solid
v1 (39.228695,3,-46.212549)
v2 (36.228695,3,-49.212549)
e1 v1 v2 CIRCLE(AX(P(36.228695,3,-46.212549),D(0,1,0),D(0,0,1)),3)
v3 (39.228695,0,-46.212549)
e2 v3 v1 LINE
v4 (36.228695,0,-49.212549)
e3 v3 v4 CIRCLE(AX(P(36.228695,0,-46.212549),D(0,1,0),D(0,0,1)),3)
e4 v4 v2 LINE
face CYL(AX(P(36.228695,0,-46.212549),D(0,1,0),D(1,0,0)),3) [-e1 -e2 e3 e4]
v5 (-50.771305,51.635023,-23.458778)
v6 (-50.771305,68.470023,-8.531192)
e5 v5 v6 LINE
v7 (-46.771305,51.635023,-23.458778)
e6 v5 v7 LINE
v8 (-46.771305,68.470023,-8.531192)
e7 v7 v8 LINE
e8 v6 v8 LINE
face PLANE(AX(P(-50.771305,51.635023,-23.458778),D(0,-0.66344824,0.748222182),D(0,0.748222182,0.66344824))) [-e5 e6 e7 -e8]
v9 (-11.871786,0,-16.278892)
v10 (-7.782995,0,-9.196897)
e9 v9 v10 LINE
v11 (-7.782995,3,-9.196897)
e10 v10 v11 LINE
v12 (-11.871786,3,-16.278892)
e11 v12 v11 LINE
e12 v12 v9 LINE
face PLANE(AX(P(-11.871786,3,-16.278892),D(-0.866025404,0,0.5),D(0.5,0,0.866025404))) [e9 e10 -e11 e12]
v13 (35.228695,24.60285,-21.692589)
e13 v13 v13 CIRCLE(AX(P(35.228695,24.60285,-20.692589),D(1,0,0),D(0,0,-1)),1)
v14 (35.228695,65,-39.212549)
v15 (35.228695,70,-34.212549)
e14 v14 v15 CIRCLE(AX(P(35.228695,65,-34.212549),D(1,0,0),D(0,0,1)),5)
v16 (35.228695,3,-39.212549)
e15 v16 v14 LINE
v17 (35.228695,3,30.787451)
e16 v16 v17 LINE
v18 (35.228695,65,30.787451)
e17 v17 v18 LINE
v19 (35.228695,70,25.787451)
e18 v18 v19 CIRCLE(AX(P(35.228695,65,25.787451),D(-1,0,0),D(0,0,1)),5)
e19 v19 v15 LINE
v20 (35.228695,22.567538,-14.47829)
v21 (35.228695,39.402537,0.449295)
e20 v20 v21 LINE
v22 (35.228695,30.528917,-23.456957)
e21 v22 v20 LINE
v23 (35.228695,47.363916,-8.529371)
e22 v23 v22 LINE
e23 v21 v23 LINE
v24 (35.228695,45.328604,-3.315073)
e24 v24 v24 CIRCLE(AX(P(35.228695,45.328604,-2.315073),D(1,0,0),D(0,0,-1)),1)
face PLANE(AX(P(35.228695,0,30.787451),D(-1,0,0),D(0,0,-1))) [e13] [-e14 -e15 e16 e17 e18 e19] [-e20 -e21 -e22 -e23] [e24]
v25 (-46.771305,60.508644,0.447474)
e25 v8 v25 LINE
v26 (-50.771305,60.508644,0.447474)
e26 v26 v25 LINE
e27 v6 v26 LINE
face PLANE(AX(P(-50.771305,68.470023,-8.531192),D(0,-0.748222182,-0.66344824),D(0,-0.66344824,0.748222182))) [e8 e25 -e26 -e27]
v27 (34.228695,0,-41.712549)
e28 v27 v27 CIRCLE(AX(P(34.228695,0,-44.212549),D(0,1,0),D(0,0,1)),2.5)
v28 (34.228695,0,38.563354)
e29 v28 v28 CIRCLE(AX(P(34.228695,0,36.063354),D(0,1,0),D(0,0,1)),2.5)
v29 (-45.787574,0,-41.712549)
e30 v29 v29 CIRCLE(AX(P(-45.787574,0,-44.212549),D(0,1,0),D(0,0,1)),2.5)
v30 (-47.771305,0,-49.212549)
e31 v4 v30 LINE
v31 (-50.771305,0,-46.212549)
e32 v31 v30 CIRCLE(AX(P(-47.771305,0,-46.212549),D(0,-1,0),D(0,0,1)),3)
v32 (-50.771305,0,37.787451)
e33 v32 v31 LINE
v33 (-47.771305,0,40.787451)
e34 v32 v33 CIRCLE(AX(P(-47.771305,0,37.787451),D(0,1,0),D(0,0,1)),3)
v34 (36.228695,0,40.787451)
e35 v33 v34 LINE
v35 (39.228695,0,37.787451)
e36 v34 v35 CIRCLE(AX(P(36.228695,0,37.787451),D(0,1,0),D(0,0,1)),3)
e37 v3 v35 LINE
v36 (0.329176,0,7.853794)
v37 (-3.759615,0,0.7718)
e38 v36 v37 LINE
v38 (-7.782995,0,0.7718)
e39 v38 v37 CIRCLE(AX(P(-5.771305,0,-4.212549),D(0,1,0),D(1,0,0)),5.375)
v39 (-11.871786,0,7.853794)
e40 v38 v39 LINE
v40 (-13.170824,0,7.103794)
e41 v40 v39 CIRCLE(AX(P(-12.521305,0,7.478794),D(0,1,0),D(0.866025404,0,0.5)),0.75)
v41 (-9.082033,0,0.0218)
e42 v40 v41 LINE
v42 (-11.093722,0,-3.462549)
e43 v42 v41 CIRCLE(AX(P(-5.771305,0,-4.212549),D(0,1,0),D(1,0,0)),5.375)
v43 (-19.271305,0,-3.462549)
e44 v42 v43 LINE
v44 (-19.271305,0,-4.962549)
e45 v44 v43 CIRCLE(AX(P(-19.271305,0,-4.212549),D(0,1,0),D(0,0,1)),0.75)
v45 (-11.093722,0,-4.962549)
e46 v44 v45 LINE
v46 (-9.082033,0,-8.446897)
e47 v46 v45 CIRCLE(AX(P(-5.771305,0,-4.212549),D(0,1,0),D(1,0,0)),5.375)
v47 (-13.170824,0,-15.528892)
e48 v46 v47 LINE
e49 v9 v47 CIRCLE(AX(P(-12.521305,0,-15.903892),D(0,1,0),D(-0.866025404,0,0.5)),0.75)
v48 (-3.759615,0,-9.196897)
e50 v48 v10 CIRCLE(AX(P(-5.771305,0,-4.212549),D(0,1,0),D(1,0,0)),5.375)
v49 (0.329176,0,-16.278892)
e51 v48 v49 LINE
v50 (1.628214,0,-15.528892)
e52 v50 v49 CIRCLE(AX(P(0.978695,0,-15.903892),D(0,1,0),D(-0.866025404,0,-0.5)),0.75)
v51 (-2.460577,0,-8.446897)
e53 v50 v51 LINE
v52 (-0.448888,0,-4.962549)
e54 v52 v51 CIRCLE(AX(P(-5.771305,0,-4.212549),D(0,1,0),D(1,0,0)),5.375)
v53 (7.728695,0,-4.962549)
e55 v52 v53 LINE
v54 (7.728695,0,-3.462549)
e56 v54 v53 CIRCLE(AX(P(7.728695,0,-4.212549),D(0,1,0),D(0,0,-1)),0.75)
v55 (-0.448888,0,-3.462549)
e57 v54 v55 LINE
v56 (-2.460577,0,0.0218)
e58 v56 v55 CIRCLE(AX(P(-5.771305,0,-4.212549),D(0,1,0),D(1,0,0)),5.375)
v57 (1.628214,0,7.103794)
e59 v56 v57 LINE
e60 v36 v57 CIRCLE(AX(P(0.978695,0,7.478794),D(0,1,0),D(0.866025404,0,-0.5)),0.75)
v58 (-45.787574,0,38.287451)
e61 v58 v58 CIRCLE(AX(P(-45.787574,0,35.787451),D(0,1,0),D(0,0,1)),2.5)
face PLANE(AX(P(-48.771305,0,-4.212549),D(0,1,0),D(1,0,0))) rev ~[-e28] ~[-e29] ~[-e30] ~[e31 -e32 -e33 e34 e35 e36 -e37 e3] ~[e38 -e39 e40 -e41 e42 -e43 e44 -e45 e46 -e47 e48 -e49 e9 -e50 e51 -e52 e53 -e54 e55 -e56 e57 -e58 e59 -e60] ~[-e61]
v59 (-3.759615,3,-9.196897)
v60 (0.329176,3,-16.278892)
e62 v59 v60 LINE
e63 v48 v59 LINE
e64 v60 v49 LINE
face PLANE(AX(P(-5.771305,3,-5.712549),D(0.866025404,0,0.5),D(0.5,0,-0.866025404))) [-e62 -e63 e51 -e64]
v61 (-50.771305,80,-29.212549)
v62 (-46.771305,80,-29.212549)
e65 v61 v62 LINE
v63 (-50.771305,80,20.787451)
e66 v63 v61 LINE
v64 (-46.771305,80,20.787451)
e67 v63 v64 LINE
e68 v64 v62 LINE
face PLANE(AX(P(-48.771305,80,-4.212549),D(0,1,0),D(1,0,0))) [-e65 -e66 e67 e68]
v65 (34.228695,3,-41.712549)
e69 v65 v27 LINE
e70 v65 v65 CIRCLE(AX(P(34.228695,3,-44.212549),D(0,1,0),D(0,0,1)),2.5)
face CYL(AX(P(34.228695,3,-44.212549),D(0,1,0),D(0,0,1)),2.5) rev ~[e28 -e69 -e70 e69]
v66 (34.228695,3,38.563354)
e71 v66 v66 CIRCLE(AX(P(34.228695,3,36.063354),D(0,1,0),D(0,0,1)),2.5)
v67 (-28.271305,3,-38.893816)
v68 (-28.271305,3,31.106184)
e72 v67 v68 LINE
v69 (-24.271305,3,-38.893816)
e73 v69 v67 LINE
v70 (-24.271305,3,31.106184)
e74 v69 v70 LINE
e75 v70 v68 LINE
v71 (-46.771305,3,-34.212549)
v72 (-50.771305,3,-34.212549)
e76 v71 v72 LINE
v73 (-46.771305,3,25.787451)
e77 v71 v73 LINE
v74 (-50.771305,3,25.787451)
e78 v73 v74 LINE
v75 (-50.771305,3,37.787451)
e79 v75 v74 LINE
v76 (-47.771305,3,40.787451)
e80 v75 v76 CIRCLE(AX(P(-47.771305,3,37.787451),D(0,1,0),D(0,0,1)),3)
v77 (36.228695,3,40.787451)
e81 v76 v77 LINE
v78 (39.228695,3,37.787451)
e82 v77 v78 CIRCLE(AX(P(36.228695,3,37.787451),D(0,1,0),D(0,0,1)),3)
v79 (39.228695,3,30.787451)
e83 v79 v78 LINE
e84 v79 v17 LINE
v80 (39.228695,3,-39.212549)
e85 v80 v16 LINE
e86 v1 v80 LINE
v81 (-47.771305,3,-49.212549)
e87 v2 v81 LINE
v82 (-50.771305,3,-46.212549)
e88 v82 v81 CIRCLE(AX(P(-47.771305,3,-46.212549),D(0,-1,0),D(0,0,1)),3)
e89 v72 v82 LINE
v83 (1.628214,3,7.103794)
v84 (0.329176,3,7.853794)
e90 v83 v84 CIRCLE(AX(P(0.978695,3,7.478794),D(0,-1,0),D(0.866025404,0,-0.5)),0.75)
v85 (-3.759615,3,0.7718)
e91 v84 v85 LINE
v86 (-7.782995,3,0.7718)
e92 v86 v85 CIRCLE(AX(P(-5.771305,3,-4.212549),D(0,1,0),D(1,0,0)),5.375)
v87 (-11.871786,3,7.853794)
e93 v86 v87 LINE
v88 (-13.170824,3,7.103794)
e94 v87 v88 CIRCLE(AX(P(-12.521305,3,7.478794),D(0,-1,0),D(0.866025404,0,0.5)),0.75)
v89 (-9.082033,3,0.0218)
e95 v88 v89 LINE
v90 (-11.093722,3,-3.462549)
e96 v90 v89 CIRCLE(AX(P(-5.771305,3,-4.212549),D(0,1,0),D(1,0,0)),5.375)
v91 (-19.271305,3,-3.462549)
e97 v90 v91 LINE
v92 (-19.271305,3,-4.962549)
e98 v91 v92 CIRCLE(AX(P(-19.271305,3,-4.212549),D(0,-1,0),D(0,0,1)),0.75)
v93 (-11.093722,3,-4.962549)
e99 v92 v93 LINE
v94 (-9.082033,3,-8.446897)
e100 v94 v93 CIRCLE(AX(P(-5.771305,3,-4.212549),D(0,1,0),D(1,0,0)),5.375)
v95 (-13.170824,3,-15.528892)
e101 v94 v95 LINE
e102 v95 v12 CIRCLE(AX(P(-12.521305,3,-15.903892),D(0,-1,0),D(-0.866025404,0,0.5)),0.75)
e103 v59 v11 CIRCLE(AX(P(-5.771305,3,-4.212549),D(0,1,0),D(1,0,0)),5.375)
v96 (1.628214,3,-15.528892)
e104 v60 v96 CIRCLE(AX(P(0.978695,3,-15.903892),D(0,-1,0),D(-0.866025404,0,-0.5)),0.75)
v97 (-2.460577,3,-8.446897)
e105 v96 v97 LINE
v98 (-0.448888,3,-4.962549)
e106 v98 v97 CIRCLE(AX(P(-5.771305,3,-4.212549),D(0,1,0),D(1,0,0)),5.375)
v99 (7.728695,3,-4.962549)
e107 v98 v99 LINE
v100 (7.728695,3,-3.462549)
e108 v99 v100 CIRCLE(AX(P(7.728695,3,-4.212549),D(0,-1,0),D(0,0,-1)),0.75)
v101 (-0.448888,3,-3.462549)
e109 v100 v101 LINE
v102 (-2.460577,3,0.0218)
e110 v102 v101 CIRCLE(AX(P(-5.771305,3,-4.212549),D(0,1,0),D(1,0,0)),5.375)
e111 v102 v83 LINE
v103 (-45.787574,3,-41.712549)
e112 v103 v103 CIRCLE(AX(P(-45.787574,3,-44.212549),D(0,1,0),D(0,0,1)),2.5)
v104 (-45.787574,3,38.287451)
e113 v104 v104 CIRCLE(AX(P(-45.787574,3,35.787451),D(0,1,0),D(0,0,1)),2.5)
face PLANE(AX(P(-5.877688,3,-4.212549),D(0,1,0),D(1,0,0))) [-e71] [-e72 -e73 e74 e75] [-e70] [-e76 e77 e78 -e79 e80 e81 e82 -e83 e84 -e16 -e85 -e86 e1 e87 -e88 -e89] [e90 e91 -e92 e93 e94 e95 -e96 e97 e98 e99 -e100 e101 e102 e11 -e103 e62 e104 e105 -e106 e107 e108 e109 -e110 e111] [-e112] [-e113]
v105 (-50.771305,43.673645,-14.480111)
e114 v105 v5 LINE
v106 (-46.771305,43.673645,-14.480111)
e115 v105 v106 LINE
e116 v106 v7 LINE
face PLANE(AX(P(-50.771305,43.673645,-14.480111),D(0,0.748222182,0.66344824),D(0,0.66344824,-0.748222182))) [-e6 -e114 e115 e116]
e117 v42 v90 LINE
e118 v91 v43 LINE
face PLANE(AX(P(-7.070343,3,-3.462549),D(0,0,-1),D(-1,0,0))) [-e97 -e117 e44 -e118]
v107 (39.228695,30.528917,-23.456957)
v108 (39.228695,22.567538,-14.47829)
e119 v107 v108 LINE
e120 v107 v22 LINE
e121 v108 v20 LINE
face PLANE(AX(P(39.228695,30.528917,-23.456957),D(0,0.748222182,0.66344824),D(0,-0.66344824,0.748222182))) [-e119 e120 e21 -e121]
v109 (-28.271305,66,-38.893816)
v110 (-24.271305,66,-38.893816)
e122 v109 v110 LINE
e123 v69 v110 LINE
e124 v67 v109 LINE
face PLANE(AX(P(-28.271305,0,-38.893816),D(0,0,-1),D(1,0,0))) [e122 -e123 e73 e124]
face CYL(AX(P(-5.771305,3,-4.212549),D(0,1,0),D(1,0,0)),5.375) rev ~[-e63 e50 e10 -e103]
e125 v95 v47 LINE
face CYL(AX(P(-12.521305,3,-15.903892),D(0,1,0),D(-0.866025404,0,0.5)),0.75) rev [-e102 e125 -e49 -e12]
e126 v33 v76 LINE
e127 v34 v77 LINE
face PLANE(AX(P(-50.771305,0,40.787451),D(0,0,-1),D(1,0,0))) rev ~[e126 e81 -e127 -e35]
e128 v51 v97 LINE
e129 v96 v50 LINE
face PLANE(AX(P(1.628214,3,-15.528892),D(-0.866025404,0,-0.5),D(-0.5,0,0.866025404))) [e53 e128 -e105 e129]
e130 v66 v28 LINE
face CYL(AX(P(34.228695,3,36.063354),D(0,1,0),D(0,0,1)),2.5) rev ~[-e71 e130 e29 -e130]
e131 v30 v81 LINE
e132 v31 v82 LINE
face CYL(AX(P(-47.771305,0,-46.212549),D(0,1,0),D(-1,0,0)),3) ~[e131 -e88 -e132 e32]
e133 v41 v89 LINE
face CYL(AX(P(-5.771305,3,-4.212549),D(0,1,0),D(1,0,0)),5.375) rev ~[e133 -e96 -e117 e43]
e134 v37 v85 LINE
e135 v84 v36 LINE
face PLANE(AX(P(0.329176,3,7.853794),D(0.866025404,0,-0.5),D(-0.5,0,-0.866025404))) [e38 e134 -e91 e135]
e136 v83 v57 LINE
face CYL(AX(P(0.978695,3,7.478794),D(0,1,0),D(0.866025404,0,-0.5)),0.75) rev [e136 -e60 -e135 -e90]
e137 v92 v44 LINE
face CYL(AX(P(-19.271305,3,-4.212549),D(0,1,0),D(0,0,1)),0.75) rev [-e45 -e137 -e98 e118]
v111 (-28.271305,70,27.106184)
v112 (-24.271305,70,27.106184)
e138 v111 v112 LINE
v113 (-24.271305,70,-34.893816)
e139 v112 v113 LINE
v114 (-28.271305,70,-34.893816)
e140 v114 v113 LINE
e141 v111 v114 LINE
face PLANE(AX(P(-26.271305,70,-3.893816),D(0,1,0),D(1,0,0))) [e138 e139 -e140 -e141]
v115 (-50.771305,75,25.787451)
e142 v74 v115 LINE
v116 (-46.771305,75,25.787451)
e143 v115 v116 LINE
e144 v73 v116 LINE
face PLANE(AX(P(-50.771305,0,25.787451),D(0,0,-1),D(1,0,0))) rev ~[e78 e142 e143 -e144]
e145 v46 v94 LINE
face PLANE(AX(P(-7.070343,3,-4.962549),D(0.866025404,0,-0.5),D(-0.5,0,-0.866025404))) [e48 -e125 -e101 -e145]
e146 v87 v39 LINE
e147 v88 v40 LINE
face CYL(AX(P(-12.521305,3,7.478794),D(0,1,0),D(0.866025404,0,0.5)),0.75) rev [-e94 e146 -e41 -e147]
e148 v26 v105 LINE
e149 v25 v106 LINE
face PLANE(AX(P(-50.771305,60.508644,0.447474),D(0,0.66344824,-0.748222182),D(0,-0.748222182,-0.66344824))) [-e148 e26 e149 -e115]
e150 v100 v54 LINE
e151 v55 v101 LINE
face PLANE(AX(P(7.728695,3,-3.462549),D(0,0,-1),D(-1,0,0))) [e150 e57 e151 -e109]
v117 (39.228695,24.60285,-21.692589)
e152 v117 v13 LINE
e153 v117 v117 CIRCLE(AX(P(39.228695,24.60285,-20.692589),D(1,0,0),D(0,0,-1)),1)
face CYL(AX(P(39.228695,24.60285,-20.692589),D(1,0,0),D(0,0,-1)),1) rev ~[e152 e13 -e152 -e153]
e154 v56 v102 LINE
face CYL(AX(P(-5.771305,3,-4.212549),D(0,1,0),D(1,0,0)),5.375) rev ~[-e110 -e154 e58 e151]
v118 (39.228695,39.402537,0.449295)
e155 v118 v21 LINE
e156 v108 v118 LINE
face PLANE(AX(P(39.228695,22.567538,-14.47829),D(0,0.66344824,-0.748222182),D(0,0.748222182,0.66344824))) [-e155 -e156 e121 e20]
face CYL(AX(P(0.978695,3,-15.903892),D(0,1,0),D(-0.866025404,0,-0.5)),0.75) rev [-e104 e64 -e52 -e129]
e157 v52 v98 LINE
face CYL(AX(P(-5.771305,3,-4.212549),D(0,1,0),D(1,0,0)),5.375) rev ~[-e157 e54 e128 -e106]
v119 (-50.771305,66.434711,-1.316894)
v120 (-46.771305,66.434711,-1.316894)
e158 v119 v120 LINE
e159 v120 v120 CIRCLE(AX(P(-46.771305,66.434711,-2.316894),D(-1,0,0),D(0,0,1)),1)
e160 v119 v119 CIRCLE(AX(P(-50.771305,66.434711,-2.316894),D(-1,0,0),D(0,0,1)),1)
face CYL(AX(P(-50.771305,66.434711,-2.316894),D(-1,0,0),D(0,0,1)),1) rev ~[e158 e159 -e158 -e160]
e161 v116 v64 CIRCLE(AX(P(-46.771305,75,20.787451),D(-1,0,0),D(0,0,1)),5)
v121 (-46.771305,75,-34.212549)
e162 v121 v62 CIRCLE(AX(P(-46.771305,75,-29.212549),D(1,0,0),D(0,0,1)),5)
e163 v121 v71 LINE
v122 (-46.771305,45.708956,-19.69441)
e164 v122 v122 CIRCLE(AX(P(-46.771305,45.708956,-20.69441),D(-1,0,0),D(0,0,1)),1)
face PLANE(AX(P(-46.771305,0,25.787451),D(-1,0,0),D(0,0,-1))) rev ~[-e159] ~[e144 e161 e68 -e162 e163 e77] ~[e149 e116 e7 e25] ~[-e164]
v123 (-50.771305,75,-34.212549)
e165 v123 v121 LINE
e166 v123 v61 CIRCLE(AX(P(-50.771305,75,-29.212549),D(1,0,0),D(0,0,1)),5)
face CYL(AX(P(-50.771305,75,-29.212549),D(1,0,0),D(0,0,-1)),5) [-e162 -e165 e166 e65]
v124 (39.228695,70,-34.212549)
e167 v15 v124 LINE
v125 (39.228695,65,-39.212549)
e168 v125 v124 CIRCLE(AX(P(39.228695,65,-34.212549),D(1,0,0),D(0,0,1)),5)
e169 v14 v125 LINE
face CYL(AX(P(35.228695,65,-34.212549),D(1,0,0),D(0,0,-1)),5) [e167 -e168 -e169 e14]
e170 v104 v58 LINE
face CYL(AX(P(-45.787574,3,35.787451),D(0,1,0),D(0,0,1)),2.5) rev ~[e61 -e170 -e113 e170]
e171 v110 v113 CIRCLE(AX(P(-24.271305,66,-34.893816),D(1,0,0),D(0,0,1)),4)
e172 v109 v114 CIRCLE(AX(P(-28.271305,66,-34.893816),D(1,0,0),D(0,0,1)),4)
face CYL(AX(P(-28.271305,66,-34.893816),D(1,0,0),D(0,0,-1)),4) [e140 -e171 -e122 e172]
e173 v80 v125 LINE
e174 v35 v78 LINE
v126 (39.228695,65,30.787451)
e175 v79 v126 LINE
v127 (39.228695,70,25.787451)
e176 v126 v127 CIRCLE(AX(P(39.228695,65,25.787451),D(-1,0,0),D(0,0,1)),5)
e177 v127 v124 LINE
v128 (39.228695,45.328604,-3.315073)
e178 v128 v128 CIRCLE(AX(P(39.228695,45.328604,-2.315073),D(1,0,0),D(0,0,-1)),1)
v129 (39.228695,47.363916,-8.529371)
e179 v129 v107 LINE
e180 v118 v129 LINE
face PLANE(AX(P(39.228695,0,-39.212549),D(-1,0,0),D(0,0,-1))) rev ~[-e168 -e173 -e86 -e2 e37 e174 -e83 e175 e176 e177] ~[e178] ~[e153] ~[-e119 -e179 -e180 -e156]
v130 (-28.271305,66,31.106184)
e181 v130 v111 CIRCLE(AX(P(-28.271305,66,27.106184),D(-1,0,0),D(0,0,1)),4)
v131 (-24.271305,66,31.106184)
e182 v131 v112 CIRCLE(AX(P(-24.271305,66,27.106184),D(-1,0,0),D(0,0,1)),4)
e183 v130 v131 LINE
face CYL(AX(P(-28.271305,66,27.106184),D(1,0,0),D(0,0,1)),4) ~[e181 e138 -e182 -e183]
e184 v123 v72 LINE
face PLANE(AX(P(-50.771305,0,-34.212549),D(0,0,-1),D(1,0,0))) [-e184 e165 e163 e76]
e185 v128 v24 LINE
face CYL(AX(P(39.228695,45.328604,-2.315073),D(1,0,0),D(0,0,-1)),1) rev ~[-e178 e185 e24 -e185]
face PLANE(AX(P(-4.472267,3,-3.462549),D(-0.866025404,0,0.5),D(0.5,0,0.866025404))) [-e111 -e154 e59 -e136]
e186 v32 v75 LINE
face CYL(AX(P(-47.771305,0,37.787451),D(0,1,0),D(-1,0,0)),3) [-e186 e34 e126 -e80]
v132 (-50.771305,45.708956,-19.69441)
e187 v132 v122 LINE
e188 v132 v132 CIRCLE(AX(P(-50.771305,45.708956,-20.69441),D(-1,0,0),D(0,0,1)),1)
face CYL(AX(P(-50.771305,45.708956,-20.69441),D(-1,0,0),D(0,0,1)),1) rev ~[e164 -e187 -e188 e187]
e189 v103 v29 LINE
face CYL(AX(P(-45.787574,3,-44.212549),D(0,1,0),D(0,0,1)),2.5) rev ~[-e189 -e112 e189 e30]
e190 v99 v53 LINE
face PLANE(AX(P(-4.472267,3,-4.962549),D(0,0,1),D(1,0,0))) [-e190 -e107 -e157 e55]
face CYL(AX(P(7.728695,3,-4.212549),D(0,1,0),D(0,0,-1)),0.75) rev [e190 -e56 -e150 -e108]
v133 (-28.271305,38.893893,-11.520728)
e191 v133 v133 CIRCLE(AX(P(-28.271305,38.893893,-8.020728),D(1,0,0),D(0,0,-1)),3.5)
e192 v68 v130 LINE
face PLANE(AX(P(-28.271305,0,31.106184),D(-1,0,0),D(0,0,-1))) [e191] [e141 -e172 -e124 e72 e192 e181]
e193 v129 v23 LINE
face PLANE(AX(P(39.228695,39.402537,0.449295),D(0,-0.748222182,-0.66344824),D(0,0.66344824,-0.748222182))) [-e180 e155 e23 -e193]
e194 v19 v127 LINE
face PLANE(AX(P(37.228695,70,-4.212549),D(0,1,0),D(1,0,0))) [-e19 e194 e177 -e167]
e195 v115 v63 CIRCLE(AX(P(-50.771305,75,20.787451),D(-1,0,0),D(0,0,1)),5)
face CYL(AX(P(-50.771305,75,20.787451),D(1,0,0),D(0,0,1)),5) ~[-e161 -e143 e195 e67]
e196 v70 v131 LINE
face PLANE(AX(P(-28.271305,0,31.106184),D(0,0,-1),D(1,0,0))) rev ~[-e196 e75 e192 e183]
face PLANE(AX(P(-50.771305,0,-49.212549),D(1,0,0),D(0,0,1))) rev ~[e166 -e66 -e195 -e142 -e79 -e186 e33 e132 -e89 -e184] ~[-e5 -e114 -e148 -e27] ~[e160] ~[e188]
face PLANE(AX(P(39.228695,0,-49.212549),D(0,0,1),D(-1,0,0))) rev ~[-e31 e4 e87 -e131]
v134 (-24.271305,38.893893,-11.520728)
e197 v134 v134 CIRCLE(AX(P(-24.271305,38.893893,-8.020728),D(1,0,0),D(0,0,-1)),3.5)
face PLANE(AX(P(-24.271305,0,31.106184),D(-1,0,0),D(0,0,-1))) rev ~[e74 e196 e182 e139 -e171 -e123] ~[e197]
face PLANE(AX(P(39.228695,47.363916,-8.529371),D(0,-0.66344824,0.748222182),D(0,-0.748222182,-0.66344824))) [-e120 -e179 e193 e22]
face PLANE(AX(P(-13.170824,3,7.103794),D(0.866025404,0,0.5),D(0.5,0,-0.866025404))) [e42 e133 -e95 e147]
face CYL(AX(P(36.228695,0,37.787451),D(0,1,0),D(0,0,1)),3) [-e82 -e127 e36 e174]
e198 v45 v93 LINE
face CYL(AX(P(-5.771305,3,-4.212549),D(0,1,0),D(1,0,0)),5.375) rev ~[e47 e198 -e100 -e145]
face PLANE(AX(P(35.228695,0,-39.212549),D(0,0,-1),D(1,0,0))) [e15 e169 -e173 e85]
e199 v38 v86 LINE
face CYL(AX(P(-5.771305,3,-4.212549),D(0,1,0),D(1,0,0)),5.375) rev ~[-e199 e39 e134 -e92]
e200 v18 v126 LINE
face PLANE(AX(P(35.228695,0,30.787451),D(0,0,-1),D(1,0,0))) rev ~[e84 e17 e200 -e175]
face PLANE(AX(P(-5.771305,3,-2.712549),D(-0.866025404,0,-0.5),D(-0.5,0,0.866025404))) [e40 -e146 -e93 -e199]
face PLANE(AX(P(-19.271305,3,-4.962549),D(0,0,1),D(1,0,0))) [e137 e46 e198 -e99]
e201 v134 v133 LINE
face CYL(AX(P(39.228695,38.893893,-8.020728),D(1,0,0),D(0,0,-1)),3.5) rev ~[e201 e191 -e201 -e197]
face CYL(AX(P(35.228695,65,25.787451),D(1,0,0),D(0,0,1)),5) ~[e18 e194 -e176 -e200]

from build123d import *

# Parameters (mm, degrees)
SKETCH1_W           = 4
SKETCH1_H           = 70
SKETCH1_H_2         = 60
BOSS_EXTRUDE1_DEPTH = 3
SKETCH1_3_W         = 4
SKETCH1_3_H         = 60
SKETCH1_3_H_2       = 70
BOSS_EXTRUDE2_DEPTH = 70
SKETCH1_4_W         = 4
SKETCH1_4_H         = 70
BOSS_EXTRUDE3_DEPTH = 70
SKETCH5_R           = 4
CUT_EXTRUDE4_DEPTH  = 10
SKETCH6_R           = 2.5
CUT_EXTRUDE5_DEPTH  = 10
SKETCH1_5_W         = 4
SKETCH1_5_H         = 60
BOSS_EXTRUDE4_DEPTH = 80
SKETCH5_2_R         = 4
CUT_EXTRUDE6_DEPTH  = 10
FILLET1_R           = 3
FILLET2_R           = 5
FILLET3_R           = 4
SKETCH7_R           = 2.5
CUT_EXTRUDE7_DEPTH  = 10
SKETCH8_R           = 2.5
CUT_EXTRUDE8_DEPTH  = 10
CUT_EXTRUDE9_REACH  = 132.084
SKETCH9_R           = 3.5
SKETCH26_R          = 2.5
CUT_EXTRUDE11_DEPTH = 10
CUT_EXTRUDE14_DEPTH = 10
CUT_EXTRUDE15_DEPTH = 10
SKETCH28_R          = 1
SKETCH28_R_2        = 4
CUT_EXTRUDE16_DEPTH = 4
SKETCH29_R          = 1
SKETCH29_R_2        = 3.5
CUT_EXTRUDE18_DEPTH = 4
SKETCH31_R          = 5.375
CUT_EXTRUDE19_DEPTH = 10


with BuildPart() as part:
    # Sketch1 → Boss-Extrude1 (new body)
    # profile 1 of 4: a face of its own
    with BuildSketch(Plane(origin=(0, 0, 0), x_dir=(1, 0, 0), z_dir=(0, 1, 0))):
        Polygon((-50.771305032, 49.212548619), (-50.771305032, 34.212548619), (-46.771305032, 34.212548619), (-46.771305032, -25.787451381), (-50.771305032, -25.787451381), (-50.771305032, -40.787451381), (39.228694968, -40.787451381), (39.228694968, -30.787451381), (35.228694968, -30.787451381), (35.228694968, 39.212548619), (39.228694968, 39.212548619), (39.228694968, 49.212548619), align=None)
        with Locations((-26.271305032, 3.893815937)):
            Rectangle(SKETCH1_W, SKETCH1_H, mode=Mode.SUBTRACT)
    # profile 2 of 4: a face of its own
    with BuildSketch(Plane(origin=(0, 0, 0), x_dir=(1, 0, 0), z_dir=(0, 1, 0))):
        with Locations((37.228694968, 4.212548619)):
            Rectangle(SKETCH1_W, SKETCH1_H)
    # profile 3 of 4: a face of its own
    with BuildSketch(Plane(origin=(0, 0, 0), x_dir=(1, 0, 0), z_dir=(0, 1, 0))):
        with Locations((-48.771305032, 4.212548619)):
            Rectangle(SKETCH1_W, SKETCH1_H_2)
    # profile 4 of 4: a face of its own
    with BuildSketch(Plane(origin=(0, 0, 0), x_dir=(1, 0, 0), z_dir=(0, 1, 0))):
        with Locations((-26.271305032, 3.893815937)):
            Rectangle(SKETCH1_W, SKETCH1_H)
    extrude(amount=BOSS_EXTRUDE1_DEPTH)

    # Sketch1<3> → Boss-Extrude2 (add)
    with BuildSketch(Plane(origin=(0, 0, 0), x_dir=(1, 0, 0), z_dir=(0, 1, 0))):
        with Locations((-48.771305032, 4.212548619)):
            Rectangle(SKETCH1_3_W, SKETCH1_3_H)
        with Locations((37.228694968, 4.212548619)):
            Rectangle(SKETCH1_3_W, SKETCH1_3_H_2)
    extrude(amount=BOSS_EXTRUDE2_DEPTH)

    # Sketch1<4> → Boss-Extrude3 (add)
    with BuildSketch(Plane(origin=(0, 0, 0), x_dir=(1, 0, 0), z_dir=(0, 1, 0))):
        with Locations((-26.271305032, 3.893815937)):
            Rectangle(SKETCH1_4_W, SKETCH1_4_H)
    extrude(amount=BOSS_EXTRUDE3_DEPTH)

    # Sketch5 → Cut-Extrude4 (cut)
    with BuildSketch(Plane.ZY.offset(50.771305032)):
        with Locations((-8.022548619, 60)):
            Circle(SKETCH5_R)
    extrude(amount=-CUT_EXTRUDE4_DEPTH, mode=Mode.SUBTRACT)

    # Sketch6 → Cut-Extrude5 (cut)
    with BuildSketch(Plane(origin=(0, 3, 0), x_dir=(1, 0, 0), z_dir=(0, 1, 0))):
        with Locations(Location((-45.787574368, -35.787451381, 0), (0, 0, 270))):
            Circle(SKETCH6_R)
        with Locations(Location((-45.787574368, 44.212548619, 0), (0, 0, 270))):
            Circle(SKETCH6_R)
        with Locations((43.718511914, 44.212548619)):
            Circle(SKETCH6_R)
        with Locations((43.718511914, -35.787451381)):
            Circle(SKETCH6_R)
    extrude(amount=-CUT_EXTRUDE5_DEPTH, mode=Mode.SUBTRACT)

    # Sketch1<5> → Boss-Extrude4 (add)
    with BuildSketch(Plane(origin=(0, 0, 0), x_dir=(1, 0, 0), z_dir=(0, 1, 0))):
        with Locations((-48.771305032, 4.212548619)):
            Rectangle(SKETCH1_5_W, SKETCH1_5_H)
    extrude(amount=BOSS_EXTRUDE4_DEPTH)

    # Sketch5<2> → Cut-Extrude6 (cut)
    with BuildSketch(Plane.ZY.offset(50.771305032)):
        with Locations((-8.022548619, 60)):
            Circle(SKETCH5_2_R)
    extrude(amount=-CUT_EXTRUDE6_DEPTH, mode=Mode.SUBTRACT)

    # Fillet1
    fillet1_edges = [part.edges().sort_by_distance(p)[0] for p in [
        (-50.771305032, 1.5, 40.787451381),
        (-50.771305032, 1.5, -49.212548619),
        (39.228694968, 1.5, -49.212548619),
        (39.228694968, 1.5, 40.787451381),
    ]]
    fillet(fillet1_edges, radius=FILLET1_R)

    # Fillet2
    fillet2_edges = [part.edges().sort_by_distance(p)[0] for p in [
        (-48.771305032, 80, -34.212548619),
        (-48.771305032, 80, 25.787451381),
        (37.228694968, 70, -39.212548619),
        (37.228694968, 70, 30.787451381),
    ]]
    fillet(fillet2_edges, radius=FILLET2_R)

    # Fillet3
    fillet3_edges = [part.edges().sort_by_distance(p)[0] for p in [
        (-26.271305032, 70, 31.106184063),
        (-26.271305032, 70, -38.893815937),
    ]]
    fillet(fillet3_edges, radius=FILLET3_R)

    # Sketch7 → Cut-Extrude7 (cut)
    with BuildSketch(Plane(origin=(39.228694968, 0, 0), x_dir=(0, 0, -1), z_dir=(1, 0, 0))):
        with Locations((27.482306935, -10)):
            Circle(SKETCH7_R)
    extrude(amount=-CUT_EXTRUDE7_DEPTH, mode=Mode.SUBTRACT)

    # Sketch8 → Cut-Extrude8 (cut)
    with BuildSketch(Plane(origin=(39.228694968, 0, 0), x_dir=(0, 0, -1), z_dir=(1, 0, 0))):
        with Locations((8.02072759, 38.893893193)):
            Circle(SKETCH8_R)
    extrude(amount=-CUT_EXTRUDE8_DEPTH, mode=Mode.SUBTRACT)

    # Cut-Extrude9: up to this face of the body (flat: up to its plane)
    cut_extrude9_end = Plane(part.part.faces().sort_by_distance((-28.271305032, 36.452186393, -3.893815937))[0])
    # Sketch9 → Cut-Extrude9 (cut, up to the picked face)
    with BuildSketch(Plane(origin=(39.228694968, 0, 0), x_dir=(0, 0, -1), z_dir=(1, 0, 0)), mode=Mode.PRIVATE) as cut_extrude9_sk1:
        with Locations((8.02072759, 38.893893193)):
            Circle(SKETCH9_R)
    cut_extrude9_tool1 = split(extrude(cut_extrude9_sk1.sketch, amount=-CUT_EXTRUDE9_REACH, mode=Mode.PRIVATE), bisect_by=cut_extrude9_end, keep=Keep.BOTH, mode=Mode.PRIVATE)
    add(cut_extrude9_tool1.solids().sort_by(Axis((39.228695, 38.893893, -8.020728), (-1, 0, 0)))[0], mode=Mode.SUBTRACT)

    # Sketch26 → Cut-Extrude11 (cut)
    with BuildSketch(Plane(origin=(0, 3, 0), x_dir=(1, 0, 0), z_dir=(0, 1, 0))):
        with Locations(Location((34.228694968, -36.063353705, 0), (0, 0, 270))):
            Circle(SKETCH26_R)
        with Locations(Location((34.228694968, 44.212548619, 0), (0, 0, 270))):
            Circle(SKETCH26_R)
    extrude(amount=-CUT_EXTRUDE11_DEPTH, mode=Mode.SUBTRACT)

    # Sketch27 → Cut-Extrude14 (cut)
    with BuildSketch(Plane(origin=(0, 3, 0), x_dir=(1, 0, 0), z_dir=(0, 1, 0))):
        with BuildLine():
            Line((7.728694968, 3.462548619), (-19.271305032, 3.462548619))
            ThreePointArc((-19.271305032, 3.462548619), (-20.021305032, 4.212548619), (-19.271305032, 4.962548619))
            Line((-19.271305032, 4.962548619), (7.728694968, 4.962548619))
            ThreePointArc((7.728694968, 4.962548619), (8.478694968, 4.212548619), (7.728694968, 3.462548619))
        make_face()
        with BuildLine():
            Line((0.329175915, -7.853794332), (-13.170824085, 15.52889157))
            ThreePointArc((-13.170824085, 15.52889157), (-12.896305032, 16.553410623), (-11.871785979, 16.27889157))
            Line((-11.871785979, 16.27889157), (1.628214021, -7.103794332))
            ThreePointArc((1.628214021, -7.103794332), (1.353694968, -8.128313385), (0.329175915, -7.853794332))
        make_face()
        with BuildLine():
            Line((-13.170824085, -7.103794332), (0.329175915, 16.27889157))
            ThreePointArc((0.329175915, 16.27889157), (1.353694968, 16.553410623), (1.628214021, 15.52889157))
            Line((1.628214021, 15.52889157), (-11.871785979, -7.853794332))
            ThreePointArc((-11.871785979, -7.853794332), (-12.896305032, -8.128313385), (-13.170824085, -7.103794332))
        make_face()
    extrude(amount=-CUT_EXTRUDE14_DEPTH, mode=Mode.SUBTRACT)

    # Sketch27<7> → Cut-Extrude15 (cut)
    with BuildSketch(Plane(origin=(0, 3, 0), x_dir=(1, 0, 0), z_dir=(0, 1, 0))):
        with BuildLine():
            Line((-7.743699741, 2.296260771), (-7.070343138, 3.462548619))
            Line((-7.070343138, 3.462548619), (-8.417056343, 3.462548619))
            ThreePointArc((-8.417056343, 3.462548619), (-8.152874893, 2.837548619), (-7.743699741, 2.296260771))
        make_face()
        with BuildLine():
            Line((-8.417056343, 4.962548619), (-7.070343138, 4.962548619))
            Line((-7.070343138, 4.962548619), (-7.743699741, 6.128836466))
            ThreePointArc((-7.743699741, 6.128836466), (-8.152874893, 5.587548619), (-8.417056343, 4.962548619))
        make_face()
        with BuildLine():
            Line((-5.771305032, 5.712548619), (-5.09794843, 6.878836466))
            ThreePointArc((-5.09794843, 6.878836466), (-5.771305032, 6.962548619), (-6.444661635, 6.878836466))
            Line((-6.444661635, 6.878836466), (-5.771305032, 5.712548619))
        make_face()
        with BuildLine():
            Line((-4.472266927, 4.962548619), (-3.125553721, 4.962548619))
            ThreePointArc((-3.125553721, 4.962548619), (-3.389735172, 5.587548619), (-3.798910324, 6.128836466))
            Line((-3.798910324, 6.128836466), (-4.472266927, 4.962548619))
        make_face()
        with BuildLine():
            ThreePointArc((-3.798910324, 2.296260771), (-3.389735172, 2.837548619), (-3.125553721, 3.462548619))
            Line((-3.125553721, 3.462548619), (-4.472266927, 3.462548619))
            Line((-4.472266927, 3.462548619), (-3.798910324, 2.296260771))
        make_face()
        with BuildLine():
            ThreePointArc((-6.444661635, 1.546260771), (-5.771305032, 1.462548619), (-5.09794843, 1.546260771))
            Line((-5.09794843, 1.546260771), (-5.771305032, 2.712548619))
            Line((-5.771305032, 2.712548619), (-6.444661635, 1.546260771))
        make_face()
    extrude(amount=-CUT_EXTRUDE15_DEPTH, mode=Mode.SUBTRACT)

    # Sketch28 → Cut-Extrude16 (cut)
    # profile 1 of 3: a face of its own
    with BuildSketch(Plane.ZY.offset(50.771305032)):
        with Locations((-2.316893756, 66.434710762)):
            Circle(SKETCH28_R)
    # profile 2 of 3: a face of its own
    with BuildSketch(Plane.ZY.offset(50.771305032)):
        with Locations((-20.69441, 45.708956331)):
            Circle(SKETCH28_R)
    # profile 3 of 3: a face of its own
    with BuildSketch(Plane.ZY.offset(50.771305032)):
        Polygon((-23.458777666, 51.635023443), (-8.531192269, 68.470022529), (0.44747391, 60.508643651), (-14.480111487, 43.673644564), align=None)
        with Locations((-8.022548619, 60)):
            Circle(SKETCH28_R_2, mode=Mode.SUBTRACT)
    extrude(amount=-CUT_EXTRUDE16_DEPTH, mode=Mode.SUBTRACT)

    # Sketch29 → Cut-Extrude18 (cut)
    # profile 1 of 3: a face of its own
    with BuildSketch(Plane(origin=(39.228694968, 0, 0), x_dir=(0, 0, -1), z_dir=(1, 0, 0))):
        with Locations((2.315072727, 45.328603955)):
            Circle(SKETCH29_R)
    # profile 2 of 3: a face of its own
    with BuildSketch(Plane(origin=(39.228694968, 0, 0), x_dir=(0, 0, -1), z_dir=(1, 0, 0))):
        with Locations((20.692588971, 24.602849525)):
            Circle(SKETCH29_R)
    # profile 3 of 3: a face of its own
    with BuildSketch(Plane(origin=(39.228694968, 0, 0), x_dir=(0, 0, -1), z_dir=(1, 0, 0))):
        Polygon((8.529371241, 47.363915722), (23.456956637, 30.528916636), (14.478290458, 22.567537758), (-0.449294939, 39.402536844), align=None)
        with Locations((8.02072759, 38.893893193)):
            Circle(SKETCH29_R_2, mode=Mode.SUBTRACT)
    extrude(amount=-CUT_EXTRUDE18_DEPTH, mode=Mode.SUBTRACT)

    # Sketch31 → Cut-Extrude19 (cut)
    with BuildSketch(Plane(origin=(0, 3, 0), x_dir=(1, 0, 0), z_dir=(0, 1, 0))):
        with Locations((-5.771305032, 4.212548619)):
            Circle(SKETCH31_R)
    extrude(amount=-CUT_EXTRUDE19_DEPTH, mode=Mode.SUBTRACT)


solid = part.part
